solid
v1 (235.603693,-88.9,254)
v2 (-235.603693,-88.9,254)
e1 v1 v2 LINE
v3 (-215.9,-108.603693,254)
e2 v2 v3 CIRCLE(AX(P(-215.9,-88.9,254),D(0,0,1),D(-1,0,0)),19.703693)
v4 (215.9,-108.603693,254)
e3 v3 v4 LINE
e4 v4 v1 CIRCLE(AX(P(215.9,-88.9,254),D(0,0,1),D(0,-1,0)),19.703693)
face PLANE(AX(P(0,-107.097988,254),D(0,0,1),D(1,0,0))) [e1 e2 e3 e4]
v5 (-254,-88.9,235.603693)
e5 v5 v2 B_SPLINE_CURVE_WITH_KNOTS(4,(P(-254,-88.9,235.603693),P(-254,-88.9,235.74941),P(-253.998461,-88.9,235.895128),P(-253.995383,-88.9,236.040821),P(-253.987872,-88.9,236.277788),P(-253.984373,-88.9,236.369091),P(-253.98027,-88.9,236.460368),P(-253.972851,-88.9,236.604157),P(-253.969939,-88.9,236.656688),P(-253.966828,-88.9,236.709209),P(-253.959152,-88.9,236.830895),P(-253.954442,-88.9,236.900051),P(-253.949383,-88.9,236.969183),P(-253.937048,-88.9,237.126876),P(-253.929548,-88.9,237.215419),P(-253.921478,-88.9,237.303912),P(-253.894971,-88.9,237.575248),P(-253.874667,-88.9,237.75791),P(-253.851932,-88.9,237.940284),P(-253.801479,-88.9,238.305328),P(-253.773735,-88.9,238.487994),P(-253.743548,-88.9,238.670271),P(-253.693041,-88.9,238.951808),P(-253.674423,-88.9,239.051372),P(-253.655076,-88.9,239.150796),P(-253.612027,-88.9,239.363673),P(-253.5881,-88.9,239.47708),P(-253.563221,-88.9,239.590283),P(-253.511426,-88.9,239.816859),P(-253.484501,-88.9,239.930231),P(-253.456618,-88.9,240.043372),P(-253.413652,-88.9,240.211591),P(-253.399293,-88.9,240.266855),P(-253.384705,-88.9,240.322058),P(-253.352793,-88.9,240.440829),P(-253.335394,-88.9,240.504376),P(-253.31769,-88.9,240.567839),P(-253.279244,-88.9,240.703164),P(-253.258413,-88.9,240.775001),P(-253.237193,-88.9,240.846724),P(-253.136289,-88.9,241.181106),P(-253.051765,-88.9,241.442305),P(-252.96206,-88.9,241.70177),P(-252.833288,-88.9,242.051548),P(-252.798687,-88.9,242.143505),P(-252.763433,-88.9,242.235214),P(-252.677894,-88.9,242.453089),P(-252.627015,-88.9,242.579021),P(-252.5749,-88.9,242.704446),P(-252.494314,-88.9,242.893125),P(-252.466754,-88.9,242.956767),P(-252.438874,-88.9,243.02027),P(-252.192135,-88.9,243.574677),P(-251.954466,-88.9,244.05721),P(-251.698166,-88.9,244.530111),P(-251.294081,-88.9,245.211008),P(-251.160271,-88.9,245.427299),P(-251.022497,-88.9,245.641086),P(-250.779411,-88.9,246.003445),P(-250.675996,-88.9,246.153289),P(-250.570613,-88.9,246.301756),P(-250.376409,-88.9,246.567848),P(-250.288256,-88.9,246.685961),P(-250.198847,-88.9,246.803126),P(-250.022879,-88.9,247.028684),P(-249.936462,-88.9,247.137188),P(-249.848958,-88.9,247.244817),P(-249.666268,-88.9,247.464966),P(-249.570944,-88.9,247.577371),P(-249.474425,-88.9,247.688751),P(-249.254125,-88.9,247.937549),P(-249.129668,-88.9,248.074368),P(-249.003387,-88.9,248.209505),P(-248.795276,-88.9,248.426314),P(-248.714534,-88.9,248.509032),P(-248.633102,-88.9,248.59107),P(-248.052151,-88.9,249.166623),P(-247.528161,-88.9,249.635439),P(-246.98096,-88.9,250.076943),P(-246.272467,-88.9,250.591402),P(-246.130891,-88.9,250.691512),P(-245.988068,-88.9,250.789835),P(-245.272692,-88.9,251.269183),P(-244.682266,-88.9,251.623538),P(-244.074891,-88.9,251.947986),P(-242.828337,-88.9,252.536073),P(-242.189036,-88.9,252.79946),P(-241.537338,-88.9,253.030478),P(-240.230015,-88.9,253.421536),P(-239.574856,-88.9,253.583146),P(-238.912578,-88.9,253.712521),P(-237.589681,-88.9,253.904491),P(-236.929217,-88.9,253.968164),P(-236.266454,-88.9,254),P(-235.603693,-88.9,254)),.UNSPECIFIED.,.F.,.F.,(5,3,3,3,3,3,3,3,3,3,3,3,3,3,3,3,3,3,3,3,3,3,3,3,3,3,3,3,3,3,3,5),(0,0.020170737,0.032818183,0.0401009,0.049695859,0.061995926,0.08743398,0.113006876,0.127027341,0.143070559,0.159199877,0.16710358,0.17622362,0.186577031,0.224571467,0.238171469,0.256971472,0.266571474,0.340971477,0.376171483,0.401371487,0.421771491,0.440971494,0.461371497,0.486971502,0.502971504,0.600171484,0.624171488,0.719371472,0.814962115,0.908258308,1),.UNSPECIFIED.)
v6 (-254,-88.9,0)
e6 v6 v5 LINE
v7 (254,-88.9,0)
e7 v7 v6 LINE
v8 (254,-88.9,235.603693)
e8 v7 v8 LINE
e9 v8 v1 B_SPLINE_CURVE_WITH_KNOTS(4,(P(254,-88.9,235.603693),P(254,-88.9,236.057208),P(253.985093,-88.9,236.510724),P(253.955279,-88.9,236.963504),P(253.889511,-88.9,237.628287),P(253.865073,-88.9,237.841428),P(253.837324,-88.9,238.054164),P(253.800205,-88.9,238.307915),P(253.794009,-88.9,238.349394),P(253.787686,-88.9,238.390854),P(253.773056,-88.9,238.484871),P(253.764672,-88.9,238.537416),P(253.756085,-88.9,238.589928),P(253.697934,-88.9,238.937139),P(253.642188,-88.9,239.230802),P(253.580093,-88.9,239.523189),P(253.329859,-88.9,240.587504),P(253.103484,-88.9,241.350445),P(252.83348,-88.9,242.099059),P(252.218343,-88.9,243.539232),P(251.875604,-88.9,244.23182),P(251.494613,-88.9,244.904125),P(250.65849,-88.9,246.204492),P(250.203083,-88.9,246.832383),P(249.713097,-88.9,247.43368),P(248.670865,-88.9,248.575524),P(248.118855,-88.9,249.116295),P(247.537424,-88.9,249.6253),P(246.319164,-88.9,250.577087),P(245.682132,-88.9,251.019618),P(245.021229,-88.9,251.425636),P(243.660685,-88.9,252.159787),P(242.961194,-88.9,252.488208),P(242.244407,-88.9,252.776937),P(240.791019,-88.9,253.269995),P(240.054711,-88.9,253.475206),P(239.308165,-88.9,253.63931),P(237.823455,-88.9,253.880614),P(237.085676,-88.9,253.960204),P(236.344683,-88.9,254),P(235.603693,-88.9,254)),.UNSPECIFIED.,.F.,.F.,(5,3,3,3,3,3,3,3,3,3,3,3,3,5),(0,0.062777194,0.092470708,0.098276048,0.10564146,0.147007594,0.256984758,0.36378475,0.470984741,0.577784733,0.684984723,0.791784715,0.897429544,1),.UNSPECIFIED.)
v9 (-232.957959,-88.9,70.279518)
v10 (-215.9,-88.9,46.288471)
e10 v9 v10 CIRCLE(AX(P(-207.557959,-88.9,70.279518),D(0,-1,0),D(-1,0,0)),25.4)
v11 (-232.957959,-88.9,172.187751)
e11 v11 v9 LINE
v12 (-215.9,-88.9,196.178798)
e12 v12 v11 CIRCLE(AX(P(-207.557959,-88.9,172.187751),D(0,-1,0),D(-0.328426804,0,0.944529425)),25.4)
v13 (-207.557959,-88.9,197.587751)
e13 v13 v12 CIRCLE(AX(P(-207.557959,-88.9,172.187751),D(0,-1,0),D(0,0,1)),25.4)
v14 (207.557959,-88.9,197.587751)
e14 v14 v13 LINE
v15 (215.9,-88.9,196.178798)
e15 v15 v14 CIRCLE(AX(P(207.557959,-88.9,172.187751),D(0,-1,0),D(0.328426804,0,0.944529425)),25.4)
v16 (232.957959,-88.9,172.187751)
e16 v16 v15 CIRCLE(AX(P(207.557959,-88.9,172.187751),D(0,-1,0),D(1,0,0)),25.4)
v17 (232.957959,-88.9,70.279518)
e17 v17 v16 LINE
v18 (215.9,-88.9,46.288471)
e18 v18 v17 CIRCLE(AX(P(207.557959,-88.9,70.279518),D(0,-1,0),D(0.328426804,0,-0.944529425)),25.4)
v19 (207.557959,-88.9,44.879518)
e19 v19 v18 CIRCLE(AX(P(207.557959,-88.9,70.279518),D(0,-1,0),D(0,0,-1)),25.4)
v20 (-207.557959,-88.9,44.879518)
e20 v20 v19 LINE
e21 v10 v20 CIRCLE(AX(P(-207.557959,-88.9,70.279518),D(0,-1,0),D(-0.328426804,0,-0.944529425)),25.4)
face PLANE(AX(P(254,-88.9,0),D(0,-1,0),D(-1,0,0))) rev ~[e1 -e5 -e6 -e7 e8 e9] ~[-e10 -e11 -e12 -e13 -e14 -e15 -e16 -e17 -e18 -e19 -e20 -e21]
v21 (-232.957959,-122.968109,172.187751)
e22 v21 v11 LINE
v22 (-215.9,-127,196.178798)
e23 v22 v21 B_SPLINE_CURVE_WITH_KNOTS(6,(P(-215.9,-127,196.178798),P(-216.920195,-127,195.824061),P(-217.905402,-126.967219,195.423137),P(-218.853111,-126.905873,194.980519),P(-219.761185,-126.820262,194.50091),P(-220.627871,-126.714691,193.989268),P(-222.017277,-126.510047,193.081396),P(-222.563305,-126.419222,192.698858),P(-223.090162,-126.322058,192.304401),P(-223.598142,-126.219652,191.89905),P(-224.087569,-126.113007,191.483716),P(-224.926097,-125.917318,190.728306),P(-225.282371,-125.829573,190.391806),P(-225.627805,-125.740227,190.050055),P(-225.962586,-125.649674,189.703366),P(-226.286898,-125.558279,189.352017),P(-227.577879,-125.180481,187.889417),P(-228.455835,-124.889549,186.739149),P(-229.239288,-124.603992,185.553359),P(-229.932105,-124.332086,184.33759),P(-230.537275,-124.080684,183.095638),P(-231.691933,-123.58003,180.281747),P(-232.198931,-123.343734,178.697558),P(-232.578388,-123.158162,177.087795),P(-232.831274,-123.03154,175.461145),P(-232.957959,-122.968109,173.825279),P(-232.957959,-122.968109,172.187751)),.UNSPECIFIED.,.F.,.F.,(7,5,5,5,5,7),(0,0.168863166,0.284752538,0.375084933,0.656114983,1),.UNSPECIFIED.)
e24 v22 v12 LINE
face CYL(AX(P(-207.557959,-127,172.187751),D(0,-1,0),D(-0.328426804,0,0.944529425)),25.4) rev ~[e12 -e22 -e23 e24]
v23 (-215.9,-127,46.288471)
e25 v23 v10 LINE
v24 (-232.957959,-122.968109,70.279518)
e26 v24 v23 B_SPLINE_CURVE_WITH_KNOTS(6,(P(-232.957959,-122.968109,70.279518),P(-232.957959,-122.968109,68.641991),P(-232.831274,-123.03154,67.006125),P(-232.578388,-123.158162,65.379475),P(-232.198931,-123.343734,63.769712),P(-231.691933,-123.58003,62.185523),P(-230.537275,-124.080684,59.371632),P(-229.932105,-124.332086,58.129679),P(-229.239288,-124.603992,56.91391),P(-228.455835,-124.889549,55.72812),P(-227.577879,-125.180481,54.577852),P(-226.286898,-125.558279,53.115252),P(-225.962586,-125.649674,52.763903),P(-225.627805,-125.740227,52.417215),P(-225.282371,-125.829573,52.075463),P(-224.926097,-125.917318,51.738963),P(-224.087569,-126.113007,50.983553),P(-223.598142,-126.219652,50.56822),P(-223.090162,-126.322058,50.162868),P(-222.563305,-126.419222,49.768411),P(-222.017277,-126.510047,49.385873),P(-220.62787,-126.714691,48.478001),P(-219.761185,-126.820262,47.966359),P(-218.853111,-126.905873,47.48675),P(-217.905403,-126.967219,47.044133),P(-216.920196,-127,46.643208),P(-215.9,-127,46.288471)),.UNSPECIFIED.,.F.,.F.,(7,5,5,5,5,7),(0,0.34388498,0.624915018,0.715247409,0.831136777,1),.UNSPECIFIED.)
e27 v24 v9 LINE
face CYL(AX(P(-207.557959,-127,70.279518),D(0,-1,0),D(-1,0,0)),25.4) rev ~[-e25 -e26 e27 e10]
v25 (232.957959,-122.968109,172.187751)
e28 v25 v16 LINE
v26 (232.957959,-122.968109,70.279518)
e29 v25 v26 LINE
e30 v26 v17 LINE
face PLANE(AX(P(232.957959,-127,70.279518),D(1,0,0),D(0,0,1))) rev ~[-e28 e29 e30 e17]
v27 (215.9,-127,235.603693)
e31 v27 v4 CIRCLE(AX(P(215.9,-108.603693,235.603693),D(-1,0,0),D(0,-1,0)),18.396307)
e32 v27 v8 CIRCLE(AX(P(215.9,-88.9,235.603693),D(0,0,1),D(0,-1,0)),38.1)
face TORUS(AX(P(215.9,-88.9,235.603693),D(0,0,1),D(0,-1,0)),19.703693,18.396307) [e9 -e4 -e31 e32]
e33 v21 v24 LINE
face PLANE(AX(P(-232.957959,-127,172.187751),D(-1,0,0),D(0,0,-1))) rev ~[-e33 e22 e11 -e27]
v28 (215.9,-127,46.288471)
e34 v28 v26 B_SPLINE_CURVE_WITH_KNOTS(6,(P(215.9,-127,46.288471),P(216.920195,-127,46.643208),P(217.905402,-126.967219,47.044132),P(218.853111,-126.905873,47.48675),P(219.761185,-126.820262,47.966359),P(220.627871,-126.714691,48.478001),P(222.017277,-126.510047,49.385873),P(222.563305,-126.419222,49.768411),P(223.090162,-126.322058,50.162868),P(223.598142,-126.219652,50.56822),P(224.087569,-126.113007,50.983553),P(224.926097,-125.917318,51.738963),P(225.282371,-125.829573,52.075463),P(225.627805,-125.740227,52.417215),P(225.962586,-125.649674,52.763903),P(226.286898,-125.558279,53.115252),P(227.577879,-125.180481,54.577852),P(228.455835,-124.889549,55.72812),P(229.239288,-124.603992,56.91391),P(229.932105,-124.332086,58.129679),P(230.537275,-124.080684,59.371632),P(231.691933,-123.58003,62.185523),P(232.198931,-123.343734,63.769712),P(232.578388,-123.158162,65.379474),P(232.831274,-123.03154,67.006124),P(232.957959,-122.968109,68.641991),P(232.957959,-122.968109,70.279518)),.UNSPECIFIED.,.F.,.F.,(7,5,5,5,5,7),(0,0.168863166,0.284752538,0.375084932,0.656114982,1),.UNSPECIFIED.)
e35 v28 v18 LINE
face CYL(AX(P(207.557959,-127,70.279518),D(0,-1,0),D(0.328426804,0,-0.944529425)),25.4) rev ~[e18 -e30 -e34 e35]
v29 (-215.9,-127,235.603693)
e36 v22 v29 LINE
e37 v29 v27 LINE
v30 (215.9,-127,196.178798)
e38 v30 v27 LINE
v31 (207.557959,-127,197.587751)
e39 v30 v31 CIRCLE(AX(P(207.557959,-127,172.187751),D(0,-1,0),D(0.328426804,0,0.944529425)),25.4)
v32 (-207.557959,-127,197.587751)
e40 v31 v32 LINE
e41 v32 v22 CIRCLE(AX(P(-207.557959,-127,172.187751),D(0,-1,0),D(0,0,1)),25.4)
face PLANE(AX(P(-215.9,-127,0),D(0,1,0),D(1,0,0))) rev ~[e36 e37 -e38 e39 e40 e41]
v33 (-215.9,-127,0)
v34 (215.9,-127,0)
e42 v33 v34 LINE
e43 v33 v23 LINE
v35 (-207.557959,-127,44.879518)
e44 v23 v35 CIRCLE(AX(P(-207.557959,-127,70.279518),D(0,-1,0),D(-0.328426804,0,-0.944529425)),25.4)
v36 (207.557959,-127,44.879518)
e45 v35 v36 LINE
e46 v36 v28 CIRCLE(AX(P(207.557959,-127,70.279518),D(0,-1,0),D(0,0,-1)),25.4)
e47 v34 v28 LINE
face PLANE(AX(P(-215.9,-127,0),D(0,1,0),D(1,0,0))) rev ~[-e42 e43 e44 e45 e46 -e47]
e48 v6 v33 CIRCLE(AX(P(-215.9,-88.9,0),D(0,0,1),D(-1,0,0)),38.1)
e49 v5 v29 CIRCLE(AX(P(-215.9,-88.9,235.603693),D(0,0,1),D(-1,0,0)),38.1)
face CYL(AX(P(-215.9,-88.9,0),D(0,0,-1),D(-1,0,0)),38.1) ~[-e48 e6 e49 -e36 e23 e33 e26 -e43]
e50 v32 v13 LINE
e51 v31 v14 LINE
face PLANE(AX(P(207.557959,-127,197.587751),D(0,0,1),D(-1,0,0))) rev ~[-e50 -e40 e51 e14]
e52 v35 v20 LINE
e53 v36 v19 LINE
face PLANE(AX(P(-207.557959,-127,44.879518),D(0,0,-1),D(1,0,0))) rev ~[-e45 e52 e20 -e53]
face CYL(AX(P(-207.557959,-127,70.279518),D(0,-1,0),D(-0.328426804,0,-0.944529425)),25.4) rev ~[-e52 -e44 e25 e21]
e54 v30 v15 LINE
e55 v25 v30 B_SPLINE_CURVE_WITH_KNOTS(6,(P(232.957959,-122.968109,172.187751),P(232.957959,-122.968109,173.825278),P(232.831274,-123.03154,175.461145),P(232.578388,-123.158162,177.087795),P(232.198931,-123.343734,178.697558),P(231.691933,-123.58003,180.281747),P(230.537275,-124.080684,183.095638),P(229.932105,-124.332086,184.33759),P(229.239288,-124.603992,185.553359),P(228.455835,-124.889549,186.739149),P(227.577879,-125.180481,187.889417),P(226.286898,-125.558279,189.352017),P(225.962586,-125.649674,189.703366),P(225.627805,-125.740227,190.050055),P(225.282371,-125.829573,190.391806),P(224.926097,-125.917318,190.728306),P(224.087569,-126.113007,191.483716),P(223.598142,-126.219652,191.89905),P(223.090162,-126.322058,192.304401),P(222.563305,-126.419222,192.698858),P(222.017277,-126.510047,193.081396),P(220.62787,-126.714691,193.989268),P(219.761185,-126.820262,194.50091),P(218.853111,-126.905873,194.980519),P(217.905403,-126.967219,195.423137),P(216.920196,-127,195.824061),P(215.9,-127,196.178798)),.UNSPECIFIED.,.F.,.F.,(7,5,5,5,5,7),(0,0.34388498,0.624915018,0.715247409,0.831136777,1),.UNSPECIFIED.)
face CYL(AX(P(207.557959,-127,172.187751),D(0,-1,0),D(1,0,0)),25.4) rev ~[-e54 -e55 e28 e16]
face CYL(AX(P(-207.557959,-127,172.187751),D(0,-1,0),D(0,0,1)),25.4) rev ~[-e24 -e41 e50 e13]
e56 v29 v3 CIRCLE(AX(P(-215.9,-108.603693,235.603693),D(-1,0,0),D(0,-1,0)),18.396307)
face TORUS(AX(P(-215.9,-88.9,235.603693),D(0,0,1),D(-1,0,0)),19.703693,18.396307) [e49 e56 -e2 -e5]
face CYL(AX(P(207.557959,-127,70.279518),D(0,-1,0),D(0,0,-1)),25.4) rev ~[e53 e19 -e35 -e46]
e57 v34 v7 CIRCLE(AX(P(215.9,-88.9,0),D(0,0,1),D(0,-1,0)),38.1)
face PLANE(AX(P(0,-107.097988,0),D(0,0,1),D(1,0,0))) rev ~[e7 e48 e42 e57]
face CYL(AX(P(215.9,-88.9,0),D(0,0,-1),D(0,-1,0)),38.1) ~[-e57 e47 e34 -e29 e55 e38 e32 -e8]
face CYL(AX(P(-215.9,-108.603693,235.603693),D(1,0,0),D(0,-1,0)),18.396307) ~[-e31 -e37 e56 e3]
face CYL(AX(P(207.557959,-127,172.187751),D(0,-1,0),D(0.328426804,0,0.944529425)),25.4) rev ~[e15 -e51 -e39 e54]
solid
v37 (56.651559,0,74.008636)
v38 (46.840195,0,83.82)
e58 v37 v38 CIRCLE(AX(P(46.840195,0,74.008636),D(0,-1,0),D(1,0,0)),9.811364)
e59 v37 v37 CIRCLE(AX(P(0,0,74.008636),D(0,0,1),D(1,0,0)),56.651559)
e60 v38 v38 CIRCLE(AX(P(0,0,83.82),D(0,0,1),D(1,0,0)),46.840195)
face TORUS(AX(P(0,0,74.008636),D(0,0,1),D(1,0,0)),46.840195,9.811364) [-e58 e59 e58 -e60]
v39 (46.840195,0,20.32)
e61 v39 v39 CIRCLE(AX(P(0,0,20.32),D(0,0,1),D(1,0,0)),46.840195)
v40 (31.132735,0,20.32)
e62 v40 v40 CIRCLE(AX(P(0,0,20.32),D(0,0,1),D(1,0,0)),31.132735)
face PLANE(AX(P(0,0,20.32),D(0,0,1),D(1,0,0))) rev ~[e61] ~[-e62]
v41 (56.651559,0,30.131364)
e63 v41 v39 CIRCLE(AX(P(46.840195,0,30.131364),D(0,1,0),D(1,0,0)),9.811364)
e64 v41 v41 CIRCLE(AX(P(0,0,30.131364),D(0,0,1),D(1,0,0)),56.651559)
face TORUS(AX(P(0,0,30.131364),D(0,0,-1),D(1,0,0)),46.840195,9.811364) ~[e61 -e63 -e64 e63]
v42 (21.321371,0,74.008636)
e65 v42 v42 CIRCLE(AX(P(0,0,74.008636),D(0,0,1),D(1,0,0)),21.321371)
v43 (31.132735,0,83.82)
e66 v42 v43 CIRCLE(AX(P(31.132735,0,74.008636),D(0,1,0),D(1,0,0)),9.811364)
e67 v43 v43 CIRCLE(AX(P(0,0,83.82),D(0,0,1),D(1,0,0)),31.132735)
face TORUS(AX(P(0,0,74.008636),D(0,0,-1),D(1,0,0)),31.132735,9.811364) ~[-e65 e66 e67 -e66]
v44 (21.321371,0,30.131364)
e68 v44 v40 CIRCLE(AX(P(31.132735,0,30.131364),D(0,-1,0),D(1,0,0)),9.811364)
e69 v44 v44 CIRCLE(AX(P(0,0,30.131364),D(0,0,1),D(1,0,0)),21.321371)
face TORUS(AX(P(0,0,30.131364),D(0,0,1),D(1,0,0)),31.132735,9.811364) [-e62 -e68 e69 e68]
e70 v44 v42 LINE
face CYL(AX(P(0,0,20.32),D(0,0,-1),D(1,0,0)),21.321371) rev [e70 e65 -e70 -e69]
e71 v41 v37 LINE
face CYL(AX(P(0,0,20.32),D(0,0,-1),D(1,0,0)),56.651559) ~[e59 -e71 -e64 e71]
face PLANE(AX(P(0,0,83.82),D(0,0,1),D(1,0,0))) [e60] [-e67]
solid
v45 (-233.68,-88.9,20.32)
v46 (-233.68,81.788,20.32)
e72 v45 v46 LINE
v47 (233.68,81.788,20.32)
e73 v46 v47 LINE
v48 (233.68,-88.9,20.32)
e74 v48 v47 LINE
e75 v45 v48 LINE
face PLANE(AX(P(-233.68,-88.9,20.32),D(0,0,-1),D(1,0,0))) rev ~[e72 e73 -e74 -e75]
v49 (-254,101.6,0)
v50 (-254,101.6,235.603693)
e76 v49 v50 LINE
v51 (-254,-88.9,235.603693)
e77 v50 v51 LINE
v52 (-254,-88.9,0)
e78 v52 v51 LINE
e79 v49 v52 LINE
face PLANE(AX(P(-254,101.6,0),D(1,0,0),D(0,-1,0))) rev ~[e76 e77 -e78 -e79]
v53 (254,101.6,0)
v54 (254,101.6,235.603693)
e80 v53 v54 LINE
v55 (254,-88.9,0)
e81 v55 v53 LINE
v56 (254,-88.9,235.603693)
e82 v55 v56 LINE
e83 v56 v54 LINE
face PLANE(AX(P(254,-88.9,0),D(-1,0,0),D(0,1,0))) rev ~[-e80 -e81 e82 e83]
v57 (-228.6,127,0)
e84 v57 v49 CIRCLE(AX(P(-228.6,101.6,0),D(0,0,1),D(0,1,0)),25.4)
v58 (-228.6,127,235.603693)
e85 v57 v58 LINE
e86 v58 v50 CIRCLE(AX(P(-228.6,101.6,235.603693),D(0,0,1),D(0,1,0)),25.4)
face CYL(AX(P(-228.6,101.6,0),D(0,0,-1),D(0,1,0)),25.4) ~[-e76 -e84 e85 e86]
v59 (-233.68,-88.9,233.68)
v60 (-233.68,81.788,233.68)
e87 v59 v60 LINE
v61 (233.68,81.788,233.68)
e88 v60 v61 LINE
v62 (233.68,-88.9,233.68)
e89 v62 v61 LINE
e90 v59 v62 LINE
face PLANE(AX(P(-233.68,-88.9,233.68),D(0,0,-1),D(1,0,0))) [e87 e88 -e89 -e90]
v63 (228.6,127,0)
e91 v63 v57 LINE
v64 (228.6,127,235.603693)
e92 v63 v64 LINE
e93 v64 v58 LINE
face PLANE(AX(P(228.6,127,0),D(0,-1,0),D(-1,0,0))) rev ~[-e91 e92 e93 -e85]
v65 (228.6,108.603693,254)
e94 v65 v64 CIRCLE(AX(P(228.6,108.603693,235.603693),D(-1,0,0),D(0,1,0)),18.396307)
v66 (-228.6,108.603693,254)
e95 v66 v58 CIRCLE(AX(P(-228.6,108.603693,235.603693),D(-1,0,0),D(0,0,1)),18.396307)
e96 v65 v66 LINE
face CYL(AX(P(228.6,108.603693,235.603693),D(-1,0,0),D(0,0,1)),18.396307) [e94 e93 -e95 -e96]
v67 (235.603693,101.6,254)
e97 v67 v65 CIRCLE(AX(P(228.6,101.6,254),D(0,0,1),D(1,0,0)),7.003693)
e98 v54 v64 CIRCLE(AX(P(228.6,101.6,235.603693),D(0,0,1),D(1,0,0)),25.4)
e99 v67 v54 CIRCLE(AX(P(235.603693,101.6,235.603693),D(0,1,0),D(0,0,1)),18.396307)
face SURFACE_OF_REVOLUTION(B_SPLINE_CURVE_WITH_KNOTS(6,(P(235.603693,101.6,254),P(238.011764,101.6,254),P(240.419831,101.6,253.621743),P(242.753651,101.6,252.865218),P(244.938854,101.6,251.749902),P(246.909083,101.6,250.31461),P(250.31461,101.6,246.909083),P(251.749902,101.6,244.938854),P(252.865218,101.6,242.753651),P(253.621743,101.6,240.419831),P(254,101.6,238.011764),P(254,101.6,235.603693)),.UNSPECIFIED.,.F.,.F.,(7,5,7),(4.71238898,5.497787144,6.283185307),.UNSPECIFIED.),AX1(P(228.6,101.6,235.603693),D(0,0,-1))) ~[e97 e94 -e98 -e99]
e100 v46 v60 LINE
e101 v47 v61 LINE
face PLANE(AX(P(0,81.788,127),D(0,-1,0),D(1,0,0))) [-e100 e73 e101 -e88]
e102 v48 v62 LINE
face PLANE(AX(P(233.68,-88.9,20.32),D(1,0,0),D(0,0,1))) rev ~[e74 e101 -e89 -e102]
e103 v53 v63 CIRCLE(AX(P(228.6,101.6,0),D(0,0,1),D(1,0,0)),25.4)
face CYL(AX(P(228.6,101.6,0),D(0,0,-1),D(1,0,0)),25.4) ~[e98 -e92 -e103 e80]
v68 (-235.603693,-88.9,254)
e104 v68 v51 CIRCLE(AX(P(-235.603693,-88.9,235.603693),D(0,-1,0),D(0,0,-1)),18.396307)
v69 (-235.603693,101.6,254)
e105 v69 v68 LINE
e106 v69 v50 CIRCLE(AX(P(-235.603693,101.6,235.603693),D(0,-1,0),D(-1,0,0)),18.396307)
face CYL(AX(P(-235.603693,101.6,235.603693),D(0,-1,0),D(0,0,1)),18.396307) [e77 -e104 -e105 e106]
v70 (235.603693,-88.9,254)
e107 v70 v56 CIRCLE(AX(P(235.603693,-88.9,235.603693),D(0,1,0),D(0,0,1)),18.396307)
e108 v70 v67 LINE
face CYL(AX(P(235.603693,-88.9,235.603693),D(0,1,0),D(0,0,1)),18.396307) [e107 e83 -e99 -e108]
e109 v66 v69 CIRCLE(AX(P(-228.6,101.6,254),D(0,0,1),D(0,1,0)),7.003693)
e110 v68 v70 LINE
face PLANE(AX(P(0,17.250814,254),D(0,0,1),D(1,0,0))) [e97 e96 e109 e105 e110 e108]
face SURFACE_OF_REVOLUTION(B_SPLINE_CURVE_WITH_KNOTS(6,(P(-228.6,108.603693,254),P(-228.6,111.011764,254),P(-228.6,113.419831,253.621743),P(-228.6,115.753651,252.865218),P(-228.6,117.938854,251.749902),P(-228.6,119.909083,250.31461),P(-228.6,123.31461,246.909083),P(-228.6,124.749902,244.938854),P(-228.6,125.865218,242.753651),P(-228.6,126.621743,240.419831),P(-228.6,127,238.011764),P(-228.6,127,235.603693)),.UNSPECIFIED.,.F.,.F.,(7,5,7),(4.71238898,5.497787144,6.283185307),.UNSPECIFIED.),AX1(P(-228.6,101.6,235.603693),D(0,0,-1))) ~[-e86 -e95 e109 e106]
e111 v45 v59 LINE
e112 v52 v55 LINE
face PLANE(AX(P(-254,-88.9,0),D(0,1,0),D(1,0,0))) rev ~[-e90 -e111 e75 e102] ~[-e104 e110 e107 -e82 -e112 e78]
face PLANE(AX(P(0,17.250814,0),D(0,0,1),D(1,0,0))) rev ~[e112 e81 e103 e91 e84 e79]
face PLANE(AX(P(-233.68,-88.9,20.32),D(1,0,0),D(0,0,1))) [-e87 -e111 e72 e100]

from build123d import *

# Parameters (mm, degrees)
F1_DEPTH  = 254
F2_DEPTH  = 254
F3_W      = 467.3599997461
F3_H      = 213.3599997461
F4_DEPTH  = 170.18
F5_DEPTH  = 170.688
F6_R      = 56.6515592814
F6_R_2    = 21.3213706436
F7_DEPTH  = 63.5
F8_R      = 9.8113639175
F10_DEPTH = 50.8
F11_R     = 18.3963073453
F11_2_R   = 18.3963073453


with BuildPart() as f1:
    # F0 (on Top) → F1 (new body)
    with BuildSketch(Plane.XY):
        with BuildLine():
            Line((-215.9, -127), (215.9, -127))
            ThreePointArc((215.9, -127), (242.8407683632, -115.8407683632), (254, -88.9))
            Line((254, -88.9), (-254, -88.9))
            ThreePointArc((-254, -88.9), (-242.8407683632, -115.8407683632), (-215.9, -127))
        make_face()
    extrude(amount=F1_DEPTH)

    # F9 (on face) → F10 (cut)
    with BuildSketch(Plane.XZ.offset(127)):
        with BuildLine():
            Line((-207.5579591751, 44.8795184493), (207.5579591751, 44.8795184493))
            ThreePointArc((207.5579591751, 44.8795184493), (211.7880535175, 45.2342334269), (215.9, 46.2884710592))
            Line((215.9, 46.2884710592), (215.9, 196.1787982422))
            ThreePointArc((215.9, 196.1787982422), (211.7880535175, 197.2330358745), (207.5579591751, 197.5877508521))
            Line((207.5579591751, 197.5877508521), (-207.5579591751, 197.5877508521))
            ThreePointArc((-207.5579591751, 197.5877508521), (-211.7880535175, 197.2330358745), (-215.9, 196.1787982422))
            Line((-215.9, 196.1787982422), (-215.9, 46.2884710592))
            ThreePointArc((-215.9, 46.2884710592), (-211.7880535175, 45.2342334269), (-207.5579591751, 44.8795184493))
        make_face()
        with BuildLine():
            Line((215.9, 196.1787982422), (215.9, 46.2884710592))
            ThreePointArc((215.9, 46.2884710592), (228.2587784458, 55.5609559677), (232.9579591751, 70.2795184493))
            Line((232.9579591751, 70.2795184493), (232.9579591751, 172.1877508521))
            ThreePointArc((232.9579591751, 172.1877508521), (228.2587784458, 186.9063133337), (215.9, 196.1787982422))
        make_face()
        with BuildLine():
            ThreePointArc((-232.9579591751, 70.2795184493), (-228.2587784458, 55.5609559677), (-215.9, 46.2884710592))
            Line((-215.9, 46.2884710592), (-215.9, 196.1787982422))
            ThreePointArc((-215.9, 196.1787982422), (-228.2587784458, 186.9063133337), (-232.9579591751, 172.1877508521))
            Line((-232.9579591751, 172.1877508521), (-232.9579591751, 70.2795184493))
        make_face()
    extrude(amount=-F10_DEPTH, mode=Mode.SUBTRACT)

    # F11
    f11_edges = [f1.edges().sort_by_distance(p)[0] for p in [
        (242.840768, -115.840768, 254),
        (-242.840768, -115.840768, 254),
        (0, -127, 254),
    ]]
    fillet(f11_edges, radius=F11_R)


with BuildPart() as f2:
    # F0 (on Top) → F2 (new body)
    with BuildSketch(Plane.XY):
        with BuildLine():
            Line((-254, -88.9), (254, -88.9))
            Line((254, -88.9), (254, 101.6))
            ThreePointArc((254, 101.6), (246.5605122421, 119.5605122421), (228.6, 127))
            Line((228.6, 127), (-228.6, 127))
            ThreePointArc((-228.6, 127), (-246.5605122421, 119.5605122421), (-254, 101.6))
            Line((-254, 101.6), (-254, -88.9))
        make_face()
    extrude(amount=F2_DEPTH)


with BuildPart() as f4:
    # F3 (on face) → F4 (new body)
    with BuildSketch(Plane.XZ.offset(88.9)):
        with Locations((0, 127)):
            Rectangle(F3_W, F3_H)
    extrude(amount=-F4_DEPTH)


with BuildPart() as f5_tool:
    # F3 (on face) → F5 (new body)
    with BuildSketch(Plane.XZ.offset(88.9)):
        with Locations((0, 127)):
            Rectangle(F3_W, F3_H)
    extrude(amount=-F5_DEPTH)


with BuildPart() as f2_1:
    add(f2.part)

    # F5: cut by f5_tool
    add(f5_tool.part, mode=Mode.SUBTRACT)

    # F11#2
    f11_2_edges = [f2_1.edges().sort_by_distance(p)[0] for p in [
        (254, 6.35, 254),
        (246.560512, 119.560512, 254),
        (0, 127, 254),
        (-246.560512, 119.560512, 254),
        (-254, 6.35, 254),
    ]]
    fillet(f11_2_edges, radius=F11_2_R)


with BuildPart() as f4_1:
    add(f4.part)

    # F5: cut by f5_tool
    add(f5_tool.part, mode=Mode.SUBTRACT)


with BuildPart() as f7:
    # F6 (on face) → F7 (new body)
    with BuildSketch(Plane.XY.offset(20.320000127)):
        Circle(F6_R)
        Circle(F6_R_2, mode=Mode.SUBTRACT)
    extrude(amount=F7_DEPTH)

    # F8
    f8_edges = [f7.edges().sort_by_distance(p)[0] for p in [
        (-56.651559, 0, 83.82),
        (-21.321371, 0, 83.82),
        (21.321371, 0, 52.07),
        (-21.321371, 0, 20.32),
        (-56.651559, 0, 20.32),
    ]]
    fillet(f8_edges, radius=F8_R)


solid = Compound([f1.part, f2_1.part, f7.part])
